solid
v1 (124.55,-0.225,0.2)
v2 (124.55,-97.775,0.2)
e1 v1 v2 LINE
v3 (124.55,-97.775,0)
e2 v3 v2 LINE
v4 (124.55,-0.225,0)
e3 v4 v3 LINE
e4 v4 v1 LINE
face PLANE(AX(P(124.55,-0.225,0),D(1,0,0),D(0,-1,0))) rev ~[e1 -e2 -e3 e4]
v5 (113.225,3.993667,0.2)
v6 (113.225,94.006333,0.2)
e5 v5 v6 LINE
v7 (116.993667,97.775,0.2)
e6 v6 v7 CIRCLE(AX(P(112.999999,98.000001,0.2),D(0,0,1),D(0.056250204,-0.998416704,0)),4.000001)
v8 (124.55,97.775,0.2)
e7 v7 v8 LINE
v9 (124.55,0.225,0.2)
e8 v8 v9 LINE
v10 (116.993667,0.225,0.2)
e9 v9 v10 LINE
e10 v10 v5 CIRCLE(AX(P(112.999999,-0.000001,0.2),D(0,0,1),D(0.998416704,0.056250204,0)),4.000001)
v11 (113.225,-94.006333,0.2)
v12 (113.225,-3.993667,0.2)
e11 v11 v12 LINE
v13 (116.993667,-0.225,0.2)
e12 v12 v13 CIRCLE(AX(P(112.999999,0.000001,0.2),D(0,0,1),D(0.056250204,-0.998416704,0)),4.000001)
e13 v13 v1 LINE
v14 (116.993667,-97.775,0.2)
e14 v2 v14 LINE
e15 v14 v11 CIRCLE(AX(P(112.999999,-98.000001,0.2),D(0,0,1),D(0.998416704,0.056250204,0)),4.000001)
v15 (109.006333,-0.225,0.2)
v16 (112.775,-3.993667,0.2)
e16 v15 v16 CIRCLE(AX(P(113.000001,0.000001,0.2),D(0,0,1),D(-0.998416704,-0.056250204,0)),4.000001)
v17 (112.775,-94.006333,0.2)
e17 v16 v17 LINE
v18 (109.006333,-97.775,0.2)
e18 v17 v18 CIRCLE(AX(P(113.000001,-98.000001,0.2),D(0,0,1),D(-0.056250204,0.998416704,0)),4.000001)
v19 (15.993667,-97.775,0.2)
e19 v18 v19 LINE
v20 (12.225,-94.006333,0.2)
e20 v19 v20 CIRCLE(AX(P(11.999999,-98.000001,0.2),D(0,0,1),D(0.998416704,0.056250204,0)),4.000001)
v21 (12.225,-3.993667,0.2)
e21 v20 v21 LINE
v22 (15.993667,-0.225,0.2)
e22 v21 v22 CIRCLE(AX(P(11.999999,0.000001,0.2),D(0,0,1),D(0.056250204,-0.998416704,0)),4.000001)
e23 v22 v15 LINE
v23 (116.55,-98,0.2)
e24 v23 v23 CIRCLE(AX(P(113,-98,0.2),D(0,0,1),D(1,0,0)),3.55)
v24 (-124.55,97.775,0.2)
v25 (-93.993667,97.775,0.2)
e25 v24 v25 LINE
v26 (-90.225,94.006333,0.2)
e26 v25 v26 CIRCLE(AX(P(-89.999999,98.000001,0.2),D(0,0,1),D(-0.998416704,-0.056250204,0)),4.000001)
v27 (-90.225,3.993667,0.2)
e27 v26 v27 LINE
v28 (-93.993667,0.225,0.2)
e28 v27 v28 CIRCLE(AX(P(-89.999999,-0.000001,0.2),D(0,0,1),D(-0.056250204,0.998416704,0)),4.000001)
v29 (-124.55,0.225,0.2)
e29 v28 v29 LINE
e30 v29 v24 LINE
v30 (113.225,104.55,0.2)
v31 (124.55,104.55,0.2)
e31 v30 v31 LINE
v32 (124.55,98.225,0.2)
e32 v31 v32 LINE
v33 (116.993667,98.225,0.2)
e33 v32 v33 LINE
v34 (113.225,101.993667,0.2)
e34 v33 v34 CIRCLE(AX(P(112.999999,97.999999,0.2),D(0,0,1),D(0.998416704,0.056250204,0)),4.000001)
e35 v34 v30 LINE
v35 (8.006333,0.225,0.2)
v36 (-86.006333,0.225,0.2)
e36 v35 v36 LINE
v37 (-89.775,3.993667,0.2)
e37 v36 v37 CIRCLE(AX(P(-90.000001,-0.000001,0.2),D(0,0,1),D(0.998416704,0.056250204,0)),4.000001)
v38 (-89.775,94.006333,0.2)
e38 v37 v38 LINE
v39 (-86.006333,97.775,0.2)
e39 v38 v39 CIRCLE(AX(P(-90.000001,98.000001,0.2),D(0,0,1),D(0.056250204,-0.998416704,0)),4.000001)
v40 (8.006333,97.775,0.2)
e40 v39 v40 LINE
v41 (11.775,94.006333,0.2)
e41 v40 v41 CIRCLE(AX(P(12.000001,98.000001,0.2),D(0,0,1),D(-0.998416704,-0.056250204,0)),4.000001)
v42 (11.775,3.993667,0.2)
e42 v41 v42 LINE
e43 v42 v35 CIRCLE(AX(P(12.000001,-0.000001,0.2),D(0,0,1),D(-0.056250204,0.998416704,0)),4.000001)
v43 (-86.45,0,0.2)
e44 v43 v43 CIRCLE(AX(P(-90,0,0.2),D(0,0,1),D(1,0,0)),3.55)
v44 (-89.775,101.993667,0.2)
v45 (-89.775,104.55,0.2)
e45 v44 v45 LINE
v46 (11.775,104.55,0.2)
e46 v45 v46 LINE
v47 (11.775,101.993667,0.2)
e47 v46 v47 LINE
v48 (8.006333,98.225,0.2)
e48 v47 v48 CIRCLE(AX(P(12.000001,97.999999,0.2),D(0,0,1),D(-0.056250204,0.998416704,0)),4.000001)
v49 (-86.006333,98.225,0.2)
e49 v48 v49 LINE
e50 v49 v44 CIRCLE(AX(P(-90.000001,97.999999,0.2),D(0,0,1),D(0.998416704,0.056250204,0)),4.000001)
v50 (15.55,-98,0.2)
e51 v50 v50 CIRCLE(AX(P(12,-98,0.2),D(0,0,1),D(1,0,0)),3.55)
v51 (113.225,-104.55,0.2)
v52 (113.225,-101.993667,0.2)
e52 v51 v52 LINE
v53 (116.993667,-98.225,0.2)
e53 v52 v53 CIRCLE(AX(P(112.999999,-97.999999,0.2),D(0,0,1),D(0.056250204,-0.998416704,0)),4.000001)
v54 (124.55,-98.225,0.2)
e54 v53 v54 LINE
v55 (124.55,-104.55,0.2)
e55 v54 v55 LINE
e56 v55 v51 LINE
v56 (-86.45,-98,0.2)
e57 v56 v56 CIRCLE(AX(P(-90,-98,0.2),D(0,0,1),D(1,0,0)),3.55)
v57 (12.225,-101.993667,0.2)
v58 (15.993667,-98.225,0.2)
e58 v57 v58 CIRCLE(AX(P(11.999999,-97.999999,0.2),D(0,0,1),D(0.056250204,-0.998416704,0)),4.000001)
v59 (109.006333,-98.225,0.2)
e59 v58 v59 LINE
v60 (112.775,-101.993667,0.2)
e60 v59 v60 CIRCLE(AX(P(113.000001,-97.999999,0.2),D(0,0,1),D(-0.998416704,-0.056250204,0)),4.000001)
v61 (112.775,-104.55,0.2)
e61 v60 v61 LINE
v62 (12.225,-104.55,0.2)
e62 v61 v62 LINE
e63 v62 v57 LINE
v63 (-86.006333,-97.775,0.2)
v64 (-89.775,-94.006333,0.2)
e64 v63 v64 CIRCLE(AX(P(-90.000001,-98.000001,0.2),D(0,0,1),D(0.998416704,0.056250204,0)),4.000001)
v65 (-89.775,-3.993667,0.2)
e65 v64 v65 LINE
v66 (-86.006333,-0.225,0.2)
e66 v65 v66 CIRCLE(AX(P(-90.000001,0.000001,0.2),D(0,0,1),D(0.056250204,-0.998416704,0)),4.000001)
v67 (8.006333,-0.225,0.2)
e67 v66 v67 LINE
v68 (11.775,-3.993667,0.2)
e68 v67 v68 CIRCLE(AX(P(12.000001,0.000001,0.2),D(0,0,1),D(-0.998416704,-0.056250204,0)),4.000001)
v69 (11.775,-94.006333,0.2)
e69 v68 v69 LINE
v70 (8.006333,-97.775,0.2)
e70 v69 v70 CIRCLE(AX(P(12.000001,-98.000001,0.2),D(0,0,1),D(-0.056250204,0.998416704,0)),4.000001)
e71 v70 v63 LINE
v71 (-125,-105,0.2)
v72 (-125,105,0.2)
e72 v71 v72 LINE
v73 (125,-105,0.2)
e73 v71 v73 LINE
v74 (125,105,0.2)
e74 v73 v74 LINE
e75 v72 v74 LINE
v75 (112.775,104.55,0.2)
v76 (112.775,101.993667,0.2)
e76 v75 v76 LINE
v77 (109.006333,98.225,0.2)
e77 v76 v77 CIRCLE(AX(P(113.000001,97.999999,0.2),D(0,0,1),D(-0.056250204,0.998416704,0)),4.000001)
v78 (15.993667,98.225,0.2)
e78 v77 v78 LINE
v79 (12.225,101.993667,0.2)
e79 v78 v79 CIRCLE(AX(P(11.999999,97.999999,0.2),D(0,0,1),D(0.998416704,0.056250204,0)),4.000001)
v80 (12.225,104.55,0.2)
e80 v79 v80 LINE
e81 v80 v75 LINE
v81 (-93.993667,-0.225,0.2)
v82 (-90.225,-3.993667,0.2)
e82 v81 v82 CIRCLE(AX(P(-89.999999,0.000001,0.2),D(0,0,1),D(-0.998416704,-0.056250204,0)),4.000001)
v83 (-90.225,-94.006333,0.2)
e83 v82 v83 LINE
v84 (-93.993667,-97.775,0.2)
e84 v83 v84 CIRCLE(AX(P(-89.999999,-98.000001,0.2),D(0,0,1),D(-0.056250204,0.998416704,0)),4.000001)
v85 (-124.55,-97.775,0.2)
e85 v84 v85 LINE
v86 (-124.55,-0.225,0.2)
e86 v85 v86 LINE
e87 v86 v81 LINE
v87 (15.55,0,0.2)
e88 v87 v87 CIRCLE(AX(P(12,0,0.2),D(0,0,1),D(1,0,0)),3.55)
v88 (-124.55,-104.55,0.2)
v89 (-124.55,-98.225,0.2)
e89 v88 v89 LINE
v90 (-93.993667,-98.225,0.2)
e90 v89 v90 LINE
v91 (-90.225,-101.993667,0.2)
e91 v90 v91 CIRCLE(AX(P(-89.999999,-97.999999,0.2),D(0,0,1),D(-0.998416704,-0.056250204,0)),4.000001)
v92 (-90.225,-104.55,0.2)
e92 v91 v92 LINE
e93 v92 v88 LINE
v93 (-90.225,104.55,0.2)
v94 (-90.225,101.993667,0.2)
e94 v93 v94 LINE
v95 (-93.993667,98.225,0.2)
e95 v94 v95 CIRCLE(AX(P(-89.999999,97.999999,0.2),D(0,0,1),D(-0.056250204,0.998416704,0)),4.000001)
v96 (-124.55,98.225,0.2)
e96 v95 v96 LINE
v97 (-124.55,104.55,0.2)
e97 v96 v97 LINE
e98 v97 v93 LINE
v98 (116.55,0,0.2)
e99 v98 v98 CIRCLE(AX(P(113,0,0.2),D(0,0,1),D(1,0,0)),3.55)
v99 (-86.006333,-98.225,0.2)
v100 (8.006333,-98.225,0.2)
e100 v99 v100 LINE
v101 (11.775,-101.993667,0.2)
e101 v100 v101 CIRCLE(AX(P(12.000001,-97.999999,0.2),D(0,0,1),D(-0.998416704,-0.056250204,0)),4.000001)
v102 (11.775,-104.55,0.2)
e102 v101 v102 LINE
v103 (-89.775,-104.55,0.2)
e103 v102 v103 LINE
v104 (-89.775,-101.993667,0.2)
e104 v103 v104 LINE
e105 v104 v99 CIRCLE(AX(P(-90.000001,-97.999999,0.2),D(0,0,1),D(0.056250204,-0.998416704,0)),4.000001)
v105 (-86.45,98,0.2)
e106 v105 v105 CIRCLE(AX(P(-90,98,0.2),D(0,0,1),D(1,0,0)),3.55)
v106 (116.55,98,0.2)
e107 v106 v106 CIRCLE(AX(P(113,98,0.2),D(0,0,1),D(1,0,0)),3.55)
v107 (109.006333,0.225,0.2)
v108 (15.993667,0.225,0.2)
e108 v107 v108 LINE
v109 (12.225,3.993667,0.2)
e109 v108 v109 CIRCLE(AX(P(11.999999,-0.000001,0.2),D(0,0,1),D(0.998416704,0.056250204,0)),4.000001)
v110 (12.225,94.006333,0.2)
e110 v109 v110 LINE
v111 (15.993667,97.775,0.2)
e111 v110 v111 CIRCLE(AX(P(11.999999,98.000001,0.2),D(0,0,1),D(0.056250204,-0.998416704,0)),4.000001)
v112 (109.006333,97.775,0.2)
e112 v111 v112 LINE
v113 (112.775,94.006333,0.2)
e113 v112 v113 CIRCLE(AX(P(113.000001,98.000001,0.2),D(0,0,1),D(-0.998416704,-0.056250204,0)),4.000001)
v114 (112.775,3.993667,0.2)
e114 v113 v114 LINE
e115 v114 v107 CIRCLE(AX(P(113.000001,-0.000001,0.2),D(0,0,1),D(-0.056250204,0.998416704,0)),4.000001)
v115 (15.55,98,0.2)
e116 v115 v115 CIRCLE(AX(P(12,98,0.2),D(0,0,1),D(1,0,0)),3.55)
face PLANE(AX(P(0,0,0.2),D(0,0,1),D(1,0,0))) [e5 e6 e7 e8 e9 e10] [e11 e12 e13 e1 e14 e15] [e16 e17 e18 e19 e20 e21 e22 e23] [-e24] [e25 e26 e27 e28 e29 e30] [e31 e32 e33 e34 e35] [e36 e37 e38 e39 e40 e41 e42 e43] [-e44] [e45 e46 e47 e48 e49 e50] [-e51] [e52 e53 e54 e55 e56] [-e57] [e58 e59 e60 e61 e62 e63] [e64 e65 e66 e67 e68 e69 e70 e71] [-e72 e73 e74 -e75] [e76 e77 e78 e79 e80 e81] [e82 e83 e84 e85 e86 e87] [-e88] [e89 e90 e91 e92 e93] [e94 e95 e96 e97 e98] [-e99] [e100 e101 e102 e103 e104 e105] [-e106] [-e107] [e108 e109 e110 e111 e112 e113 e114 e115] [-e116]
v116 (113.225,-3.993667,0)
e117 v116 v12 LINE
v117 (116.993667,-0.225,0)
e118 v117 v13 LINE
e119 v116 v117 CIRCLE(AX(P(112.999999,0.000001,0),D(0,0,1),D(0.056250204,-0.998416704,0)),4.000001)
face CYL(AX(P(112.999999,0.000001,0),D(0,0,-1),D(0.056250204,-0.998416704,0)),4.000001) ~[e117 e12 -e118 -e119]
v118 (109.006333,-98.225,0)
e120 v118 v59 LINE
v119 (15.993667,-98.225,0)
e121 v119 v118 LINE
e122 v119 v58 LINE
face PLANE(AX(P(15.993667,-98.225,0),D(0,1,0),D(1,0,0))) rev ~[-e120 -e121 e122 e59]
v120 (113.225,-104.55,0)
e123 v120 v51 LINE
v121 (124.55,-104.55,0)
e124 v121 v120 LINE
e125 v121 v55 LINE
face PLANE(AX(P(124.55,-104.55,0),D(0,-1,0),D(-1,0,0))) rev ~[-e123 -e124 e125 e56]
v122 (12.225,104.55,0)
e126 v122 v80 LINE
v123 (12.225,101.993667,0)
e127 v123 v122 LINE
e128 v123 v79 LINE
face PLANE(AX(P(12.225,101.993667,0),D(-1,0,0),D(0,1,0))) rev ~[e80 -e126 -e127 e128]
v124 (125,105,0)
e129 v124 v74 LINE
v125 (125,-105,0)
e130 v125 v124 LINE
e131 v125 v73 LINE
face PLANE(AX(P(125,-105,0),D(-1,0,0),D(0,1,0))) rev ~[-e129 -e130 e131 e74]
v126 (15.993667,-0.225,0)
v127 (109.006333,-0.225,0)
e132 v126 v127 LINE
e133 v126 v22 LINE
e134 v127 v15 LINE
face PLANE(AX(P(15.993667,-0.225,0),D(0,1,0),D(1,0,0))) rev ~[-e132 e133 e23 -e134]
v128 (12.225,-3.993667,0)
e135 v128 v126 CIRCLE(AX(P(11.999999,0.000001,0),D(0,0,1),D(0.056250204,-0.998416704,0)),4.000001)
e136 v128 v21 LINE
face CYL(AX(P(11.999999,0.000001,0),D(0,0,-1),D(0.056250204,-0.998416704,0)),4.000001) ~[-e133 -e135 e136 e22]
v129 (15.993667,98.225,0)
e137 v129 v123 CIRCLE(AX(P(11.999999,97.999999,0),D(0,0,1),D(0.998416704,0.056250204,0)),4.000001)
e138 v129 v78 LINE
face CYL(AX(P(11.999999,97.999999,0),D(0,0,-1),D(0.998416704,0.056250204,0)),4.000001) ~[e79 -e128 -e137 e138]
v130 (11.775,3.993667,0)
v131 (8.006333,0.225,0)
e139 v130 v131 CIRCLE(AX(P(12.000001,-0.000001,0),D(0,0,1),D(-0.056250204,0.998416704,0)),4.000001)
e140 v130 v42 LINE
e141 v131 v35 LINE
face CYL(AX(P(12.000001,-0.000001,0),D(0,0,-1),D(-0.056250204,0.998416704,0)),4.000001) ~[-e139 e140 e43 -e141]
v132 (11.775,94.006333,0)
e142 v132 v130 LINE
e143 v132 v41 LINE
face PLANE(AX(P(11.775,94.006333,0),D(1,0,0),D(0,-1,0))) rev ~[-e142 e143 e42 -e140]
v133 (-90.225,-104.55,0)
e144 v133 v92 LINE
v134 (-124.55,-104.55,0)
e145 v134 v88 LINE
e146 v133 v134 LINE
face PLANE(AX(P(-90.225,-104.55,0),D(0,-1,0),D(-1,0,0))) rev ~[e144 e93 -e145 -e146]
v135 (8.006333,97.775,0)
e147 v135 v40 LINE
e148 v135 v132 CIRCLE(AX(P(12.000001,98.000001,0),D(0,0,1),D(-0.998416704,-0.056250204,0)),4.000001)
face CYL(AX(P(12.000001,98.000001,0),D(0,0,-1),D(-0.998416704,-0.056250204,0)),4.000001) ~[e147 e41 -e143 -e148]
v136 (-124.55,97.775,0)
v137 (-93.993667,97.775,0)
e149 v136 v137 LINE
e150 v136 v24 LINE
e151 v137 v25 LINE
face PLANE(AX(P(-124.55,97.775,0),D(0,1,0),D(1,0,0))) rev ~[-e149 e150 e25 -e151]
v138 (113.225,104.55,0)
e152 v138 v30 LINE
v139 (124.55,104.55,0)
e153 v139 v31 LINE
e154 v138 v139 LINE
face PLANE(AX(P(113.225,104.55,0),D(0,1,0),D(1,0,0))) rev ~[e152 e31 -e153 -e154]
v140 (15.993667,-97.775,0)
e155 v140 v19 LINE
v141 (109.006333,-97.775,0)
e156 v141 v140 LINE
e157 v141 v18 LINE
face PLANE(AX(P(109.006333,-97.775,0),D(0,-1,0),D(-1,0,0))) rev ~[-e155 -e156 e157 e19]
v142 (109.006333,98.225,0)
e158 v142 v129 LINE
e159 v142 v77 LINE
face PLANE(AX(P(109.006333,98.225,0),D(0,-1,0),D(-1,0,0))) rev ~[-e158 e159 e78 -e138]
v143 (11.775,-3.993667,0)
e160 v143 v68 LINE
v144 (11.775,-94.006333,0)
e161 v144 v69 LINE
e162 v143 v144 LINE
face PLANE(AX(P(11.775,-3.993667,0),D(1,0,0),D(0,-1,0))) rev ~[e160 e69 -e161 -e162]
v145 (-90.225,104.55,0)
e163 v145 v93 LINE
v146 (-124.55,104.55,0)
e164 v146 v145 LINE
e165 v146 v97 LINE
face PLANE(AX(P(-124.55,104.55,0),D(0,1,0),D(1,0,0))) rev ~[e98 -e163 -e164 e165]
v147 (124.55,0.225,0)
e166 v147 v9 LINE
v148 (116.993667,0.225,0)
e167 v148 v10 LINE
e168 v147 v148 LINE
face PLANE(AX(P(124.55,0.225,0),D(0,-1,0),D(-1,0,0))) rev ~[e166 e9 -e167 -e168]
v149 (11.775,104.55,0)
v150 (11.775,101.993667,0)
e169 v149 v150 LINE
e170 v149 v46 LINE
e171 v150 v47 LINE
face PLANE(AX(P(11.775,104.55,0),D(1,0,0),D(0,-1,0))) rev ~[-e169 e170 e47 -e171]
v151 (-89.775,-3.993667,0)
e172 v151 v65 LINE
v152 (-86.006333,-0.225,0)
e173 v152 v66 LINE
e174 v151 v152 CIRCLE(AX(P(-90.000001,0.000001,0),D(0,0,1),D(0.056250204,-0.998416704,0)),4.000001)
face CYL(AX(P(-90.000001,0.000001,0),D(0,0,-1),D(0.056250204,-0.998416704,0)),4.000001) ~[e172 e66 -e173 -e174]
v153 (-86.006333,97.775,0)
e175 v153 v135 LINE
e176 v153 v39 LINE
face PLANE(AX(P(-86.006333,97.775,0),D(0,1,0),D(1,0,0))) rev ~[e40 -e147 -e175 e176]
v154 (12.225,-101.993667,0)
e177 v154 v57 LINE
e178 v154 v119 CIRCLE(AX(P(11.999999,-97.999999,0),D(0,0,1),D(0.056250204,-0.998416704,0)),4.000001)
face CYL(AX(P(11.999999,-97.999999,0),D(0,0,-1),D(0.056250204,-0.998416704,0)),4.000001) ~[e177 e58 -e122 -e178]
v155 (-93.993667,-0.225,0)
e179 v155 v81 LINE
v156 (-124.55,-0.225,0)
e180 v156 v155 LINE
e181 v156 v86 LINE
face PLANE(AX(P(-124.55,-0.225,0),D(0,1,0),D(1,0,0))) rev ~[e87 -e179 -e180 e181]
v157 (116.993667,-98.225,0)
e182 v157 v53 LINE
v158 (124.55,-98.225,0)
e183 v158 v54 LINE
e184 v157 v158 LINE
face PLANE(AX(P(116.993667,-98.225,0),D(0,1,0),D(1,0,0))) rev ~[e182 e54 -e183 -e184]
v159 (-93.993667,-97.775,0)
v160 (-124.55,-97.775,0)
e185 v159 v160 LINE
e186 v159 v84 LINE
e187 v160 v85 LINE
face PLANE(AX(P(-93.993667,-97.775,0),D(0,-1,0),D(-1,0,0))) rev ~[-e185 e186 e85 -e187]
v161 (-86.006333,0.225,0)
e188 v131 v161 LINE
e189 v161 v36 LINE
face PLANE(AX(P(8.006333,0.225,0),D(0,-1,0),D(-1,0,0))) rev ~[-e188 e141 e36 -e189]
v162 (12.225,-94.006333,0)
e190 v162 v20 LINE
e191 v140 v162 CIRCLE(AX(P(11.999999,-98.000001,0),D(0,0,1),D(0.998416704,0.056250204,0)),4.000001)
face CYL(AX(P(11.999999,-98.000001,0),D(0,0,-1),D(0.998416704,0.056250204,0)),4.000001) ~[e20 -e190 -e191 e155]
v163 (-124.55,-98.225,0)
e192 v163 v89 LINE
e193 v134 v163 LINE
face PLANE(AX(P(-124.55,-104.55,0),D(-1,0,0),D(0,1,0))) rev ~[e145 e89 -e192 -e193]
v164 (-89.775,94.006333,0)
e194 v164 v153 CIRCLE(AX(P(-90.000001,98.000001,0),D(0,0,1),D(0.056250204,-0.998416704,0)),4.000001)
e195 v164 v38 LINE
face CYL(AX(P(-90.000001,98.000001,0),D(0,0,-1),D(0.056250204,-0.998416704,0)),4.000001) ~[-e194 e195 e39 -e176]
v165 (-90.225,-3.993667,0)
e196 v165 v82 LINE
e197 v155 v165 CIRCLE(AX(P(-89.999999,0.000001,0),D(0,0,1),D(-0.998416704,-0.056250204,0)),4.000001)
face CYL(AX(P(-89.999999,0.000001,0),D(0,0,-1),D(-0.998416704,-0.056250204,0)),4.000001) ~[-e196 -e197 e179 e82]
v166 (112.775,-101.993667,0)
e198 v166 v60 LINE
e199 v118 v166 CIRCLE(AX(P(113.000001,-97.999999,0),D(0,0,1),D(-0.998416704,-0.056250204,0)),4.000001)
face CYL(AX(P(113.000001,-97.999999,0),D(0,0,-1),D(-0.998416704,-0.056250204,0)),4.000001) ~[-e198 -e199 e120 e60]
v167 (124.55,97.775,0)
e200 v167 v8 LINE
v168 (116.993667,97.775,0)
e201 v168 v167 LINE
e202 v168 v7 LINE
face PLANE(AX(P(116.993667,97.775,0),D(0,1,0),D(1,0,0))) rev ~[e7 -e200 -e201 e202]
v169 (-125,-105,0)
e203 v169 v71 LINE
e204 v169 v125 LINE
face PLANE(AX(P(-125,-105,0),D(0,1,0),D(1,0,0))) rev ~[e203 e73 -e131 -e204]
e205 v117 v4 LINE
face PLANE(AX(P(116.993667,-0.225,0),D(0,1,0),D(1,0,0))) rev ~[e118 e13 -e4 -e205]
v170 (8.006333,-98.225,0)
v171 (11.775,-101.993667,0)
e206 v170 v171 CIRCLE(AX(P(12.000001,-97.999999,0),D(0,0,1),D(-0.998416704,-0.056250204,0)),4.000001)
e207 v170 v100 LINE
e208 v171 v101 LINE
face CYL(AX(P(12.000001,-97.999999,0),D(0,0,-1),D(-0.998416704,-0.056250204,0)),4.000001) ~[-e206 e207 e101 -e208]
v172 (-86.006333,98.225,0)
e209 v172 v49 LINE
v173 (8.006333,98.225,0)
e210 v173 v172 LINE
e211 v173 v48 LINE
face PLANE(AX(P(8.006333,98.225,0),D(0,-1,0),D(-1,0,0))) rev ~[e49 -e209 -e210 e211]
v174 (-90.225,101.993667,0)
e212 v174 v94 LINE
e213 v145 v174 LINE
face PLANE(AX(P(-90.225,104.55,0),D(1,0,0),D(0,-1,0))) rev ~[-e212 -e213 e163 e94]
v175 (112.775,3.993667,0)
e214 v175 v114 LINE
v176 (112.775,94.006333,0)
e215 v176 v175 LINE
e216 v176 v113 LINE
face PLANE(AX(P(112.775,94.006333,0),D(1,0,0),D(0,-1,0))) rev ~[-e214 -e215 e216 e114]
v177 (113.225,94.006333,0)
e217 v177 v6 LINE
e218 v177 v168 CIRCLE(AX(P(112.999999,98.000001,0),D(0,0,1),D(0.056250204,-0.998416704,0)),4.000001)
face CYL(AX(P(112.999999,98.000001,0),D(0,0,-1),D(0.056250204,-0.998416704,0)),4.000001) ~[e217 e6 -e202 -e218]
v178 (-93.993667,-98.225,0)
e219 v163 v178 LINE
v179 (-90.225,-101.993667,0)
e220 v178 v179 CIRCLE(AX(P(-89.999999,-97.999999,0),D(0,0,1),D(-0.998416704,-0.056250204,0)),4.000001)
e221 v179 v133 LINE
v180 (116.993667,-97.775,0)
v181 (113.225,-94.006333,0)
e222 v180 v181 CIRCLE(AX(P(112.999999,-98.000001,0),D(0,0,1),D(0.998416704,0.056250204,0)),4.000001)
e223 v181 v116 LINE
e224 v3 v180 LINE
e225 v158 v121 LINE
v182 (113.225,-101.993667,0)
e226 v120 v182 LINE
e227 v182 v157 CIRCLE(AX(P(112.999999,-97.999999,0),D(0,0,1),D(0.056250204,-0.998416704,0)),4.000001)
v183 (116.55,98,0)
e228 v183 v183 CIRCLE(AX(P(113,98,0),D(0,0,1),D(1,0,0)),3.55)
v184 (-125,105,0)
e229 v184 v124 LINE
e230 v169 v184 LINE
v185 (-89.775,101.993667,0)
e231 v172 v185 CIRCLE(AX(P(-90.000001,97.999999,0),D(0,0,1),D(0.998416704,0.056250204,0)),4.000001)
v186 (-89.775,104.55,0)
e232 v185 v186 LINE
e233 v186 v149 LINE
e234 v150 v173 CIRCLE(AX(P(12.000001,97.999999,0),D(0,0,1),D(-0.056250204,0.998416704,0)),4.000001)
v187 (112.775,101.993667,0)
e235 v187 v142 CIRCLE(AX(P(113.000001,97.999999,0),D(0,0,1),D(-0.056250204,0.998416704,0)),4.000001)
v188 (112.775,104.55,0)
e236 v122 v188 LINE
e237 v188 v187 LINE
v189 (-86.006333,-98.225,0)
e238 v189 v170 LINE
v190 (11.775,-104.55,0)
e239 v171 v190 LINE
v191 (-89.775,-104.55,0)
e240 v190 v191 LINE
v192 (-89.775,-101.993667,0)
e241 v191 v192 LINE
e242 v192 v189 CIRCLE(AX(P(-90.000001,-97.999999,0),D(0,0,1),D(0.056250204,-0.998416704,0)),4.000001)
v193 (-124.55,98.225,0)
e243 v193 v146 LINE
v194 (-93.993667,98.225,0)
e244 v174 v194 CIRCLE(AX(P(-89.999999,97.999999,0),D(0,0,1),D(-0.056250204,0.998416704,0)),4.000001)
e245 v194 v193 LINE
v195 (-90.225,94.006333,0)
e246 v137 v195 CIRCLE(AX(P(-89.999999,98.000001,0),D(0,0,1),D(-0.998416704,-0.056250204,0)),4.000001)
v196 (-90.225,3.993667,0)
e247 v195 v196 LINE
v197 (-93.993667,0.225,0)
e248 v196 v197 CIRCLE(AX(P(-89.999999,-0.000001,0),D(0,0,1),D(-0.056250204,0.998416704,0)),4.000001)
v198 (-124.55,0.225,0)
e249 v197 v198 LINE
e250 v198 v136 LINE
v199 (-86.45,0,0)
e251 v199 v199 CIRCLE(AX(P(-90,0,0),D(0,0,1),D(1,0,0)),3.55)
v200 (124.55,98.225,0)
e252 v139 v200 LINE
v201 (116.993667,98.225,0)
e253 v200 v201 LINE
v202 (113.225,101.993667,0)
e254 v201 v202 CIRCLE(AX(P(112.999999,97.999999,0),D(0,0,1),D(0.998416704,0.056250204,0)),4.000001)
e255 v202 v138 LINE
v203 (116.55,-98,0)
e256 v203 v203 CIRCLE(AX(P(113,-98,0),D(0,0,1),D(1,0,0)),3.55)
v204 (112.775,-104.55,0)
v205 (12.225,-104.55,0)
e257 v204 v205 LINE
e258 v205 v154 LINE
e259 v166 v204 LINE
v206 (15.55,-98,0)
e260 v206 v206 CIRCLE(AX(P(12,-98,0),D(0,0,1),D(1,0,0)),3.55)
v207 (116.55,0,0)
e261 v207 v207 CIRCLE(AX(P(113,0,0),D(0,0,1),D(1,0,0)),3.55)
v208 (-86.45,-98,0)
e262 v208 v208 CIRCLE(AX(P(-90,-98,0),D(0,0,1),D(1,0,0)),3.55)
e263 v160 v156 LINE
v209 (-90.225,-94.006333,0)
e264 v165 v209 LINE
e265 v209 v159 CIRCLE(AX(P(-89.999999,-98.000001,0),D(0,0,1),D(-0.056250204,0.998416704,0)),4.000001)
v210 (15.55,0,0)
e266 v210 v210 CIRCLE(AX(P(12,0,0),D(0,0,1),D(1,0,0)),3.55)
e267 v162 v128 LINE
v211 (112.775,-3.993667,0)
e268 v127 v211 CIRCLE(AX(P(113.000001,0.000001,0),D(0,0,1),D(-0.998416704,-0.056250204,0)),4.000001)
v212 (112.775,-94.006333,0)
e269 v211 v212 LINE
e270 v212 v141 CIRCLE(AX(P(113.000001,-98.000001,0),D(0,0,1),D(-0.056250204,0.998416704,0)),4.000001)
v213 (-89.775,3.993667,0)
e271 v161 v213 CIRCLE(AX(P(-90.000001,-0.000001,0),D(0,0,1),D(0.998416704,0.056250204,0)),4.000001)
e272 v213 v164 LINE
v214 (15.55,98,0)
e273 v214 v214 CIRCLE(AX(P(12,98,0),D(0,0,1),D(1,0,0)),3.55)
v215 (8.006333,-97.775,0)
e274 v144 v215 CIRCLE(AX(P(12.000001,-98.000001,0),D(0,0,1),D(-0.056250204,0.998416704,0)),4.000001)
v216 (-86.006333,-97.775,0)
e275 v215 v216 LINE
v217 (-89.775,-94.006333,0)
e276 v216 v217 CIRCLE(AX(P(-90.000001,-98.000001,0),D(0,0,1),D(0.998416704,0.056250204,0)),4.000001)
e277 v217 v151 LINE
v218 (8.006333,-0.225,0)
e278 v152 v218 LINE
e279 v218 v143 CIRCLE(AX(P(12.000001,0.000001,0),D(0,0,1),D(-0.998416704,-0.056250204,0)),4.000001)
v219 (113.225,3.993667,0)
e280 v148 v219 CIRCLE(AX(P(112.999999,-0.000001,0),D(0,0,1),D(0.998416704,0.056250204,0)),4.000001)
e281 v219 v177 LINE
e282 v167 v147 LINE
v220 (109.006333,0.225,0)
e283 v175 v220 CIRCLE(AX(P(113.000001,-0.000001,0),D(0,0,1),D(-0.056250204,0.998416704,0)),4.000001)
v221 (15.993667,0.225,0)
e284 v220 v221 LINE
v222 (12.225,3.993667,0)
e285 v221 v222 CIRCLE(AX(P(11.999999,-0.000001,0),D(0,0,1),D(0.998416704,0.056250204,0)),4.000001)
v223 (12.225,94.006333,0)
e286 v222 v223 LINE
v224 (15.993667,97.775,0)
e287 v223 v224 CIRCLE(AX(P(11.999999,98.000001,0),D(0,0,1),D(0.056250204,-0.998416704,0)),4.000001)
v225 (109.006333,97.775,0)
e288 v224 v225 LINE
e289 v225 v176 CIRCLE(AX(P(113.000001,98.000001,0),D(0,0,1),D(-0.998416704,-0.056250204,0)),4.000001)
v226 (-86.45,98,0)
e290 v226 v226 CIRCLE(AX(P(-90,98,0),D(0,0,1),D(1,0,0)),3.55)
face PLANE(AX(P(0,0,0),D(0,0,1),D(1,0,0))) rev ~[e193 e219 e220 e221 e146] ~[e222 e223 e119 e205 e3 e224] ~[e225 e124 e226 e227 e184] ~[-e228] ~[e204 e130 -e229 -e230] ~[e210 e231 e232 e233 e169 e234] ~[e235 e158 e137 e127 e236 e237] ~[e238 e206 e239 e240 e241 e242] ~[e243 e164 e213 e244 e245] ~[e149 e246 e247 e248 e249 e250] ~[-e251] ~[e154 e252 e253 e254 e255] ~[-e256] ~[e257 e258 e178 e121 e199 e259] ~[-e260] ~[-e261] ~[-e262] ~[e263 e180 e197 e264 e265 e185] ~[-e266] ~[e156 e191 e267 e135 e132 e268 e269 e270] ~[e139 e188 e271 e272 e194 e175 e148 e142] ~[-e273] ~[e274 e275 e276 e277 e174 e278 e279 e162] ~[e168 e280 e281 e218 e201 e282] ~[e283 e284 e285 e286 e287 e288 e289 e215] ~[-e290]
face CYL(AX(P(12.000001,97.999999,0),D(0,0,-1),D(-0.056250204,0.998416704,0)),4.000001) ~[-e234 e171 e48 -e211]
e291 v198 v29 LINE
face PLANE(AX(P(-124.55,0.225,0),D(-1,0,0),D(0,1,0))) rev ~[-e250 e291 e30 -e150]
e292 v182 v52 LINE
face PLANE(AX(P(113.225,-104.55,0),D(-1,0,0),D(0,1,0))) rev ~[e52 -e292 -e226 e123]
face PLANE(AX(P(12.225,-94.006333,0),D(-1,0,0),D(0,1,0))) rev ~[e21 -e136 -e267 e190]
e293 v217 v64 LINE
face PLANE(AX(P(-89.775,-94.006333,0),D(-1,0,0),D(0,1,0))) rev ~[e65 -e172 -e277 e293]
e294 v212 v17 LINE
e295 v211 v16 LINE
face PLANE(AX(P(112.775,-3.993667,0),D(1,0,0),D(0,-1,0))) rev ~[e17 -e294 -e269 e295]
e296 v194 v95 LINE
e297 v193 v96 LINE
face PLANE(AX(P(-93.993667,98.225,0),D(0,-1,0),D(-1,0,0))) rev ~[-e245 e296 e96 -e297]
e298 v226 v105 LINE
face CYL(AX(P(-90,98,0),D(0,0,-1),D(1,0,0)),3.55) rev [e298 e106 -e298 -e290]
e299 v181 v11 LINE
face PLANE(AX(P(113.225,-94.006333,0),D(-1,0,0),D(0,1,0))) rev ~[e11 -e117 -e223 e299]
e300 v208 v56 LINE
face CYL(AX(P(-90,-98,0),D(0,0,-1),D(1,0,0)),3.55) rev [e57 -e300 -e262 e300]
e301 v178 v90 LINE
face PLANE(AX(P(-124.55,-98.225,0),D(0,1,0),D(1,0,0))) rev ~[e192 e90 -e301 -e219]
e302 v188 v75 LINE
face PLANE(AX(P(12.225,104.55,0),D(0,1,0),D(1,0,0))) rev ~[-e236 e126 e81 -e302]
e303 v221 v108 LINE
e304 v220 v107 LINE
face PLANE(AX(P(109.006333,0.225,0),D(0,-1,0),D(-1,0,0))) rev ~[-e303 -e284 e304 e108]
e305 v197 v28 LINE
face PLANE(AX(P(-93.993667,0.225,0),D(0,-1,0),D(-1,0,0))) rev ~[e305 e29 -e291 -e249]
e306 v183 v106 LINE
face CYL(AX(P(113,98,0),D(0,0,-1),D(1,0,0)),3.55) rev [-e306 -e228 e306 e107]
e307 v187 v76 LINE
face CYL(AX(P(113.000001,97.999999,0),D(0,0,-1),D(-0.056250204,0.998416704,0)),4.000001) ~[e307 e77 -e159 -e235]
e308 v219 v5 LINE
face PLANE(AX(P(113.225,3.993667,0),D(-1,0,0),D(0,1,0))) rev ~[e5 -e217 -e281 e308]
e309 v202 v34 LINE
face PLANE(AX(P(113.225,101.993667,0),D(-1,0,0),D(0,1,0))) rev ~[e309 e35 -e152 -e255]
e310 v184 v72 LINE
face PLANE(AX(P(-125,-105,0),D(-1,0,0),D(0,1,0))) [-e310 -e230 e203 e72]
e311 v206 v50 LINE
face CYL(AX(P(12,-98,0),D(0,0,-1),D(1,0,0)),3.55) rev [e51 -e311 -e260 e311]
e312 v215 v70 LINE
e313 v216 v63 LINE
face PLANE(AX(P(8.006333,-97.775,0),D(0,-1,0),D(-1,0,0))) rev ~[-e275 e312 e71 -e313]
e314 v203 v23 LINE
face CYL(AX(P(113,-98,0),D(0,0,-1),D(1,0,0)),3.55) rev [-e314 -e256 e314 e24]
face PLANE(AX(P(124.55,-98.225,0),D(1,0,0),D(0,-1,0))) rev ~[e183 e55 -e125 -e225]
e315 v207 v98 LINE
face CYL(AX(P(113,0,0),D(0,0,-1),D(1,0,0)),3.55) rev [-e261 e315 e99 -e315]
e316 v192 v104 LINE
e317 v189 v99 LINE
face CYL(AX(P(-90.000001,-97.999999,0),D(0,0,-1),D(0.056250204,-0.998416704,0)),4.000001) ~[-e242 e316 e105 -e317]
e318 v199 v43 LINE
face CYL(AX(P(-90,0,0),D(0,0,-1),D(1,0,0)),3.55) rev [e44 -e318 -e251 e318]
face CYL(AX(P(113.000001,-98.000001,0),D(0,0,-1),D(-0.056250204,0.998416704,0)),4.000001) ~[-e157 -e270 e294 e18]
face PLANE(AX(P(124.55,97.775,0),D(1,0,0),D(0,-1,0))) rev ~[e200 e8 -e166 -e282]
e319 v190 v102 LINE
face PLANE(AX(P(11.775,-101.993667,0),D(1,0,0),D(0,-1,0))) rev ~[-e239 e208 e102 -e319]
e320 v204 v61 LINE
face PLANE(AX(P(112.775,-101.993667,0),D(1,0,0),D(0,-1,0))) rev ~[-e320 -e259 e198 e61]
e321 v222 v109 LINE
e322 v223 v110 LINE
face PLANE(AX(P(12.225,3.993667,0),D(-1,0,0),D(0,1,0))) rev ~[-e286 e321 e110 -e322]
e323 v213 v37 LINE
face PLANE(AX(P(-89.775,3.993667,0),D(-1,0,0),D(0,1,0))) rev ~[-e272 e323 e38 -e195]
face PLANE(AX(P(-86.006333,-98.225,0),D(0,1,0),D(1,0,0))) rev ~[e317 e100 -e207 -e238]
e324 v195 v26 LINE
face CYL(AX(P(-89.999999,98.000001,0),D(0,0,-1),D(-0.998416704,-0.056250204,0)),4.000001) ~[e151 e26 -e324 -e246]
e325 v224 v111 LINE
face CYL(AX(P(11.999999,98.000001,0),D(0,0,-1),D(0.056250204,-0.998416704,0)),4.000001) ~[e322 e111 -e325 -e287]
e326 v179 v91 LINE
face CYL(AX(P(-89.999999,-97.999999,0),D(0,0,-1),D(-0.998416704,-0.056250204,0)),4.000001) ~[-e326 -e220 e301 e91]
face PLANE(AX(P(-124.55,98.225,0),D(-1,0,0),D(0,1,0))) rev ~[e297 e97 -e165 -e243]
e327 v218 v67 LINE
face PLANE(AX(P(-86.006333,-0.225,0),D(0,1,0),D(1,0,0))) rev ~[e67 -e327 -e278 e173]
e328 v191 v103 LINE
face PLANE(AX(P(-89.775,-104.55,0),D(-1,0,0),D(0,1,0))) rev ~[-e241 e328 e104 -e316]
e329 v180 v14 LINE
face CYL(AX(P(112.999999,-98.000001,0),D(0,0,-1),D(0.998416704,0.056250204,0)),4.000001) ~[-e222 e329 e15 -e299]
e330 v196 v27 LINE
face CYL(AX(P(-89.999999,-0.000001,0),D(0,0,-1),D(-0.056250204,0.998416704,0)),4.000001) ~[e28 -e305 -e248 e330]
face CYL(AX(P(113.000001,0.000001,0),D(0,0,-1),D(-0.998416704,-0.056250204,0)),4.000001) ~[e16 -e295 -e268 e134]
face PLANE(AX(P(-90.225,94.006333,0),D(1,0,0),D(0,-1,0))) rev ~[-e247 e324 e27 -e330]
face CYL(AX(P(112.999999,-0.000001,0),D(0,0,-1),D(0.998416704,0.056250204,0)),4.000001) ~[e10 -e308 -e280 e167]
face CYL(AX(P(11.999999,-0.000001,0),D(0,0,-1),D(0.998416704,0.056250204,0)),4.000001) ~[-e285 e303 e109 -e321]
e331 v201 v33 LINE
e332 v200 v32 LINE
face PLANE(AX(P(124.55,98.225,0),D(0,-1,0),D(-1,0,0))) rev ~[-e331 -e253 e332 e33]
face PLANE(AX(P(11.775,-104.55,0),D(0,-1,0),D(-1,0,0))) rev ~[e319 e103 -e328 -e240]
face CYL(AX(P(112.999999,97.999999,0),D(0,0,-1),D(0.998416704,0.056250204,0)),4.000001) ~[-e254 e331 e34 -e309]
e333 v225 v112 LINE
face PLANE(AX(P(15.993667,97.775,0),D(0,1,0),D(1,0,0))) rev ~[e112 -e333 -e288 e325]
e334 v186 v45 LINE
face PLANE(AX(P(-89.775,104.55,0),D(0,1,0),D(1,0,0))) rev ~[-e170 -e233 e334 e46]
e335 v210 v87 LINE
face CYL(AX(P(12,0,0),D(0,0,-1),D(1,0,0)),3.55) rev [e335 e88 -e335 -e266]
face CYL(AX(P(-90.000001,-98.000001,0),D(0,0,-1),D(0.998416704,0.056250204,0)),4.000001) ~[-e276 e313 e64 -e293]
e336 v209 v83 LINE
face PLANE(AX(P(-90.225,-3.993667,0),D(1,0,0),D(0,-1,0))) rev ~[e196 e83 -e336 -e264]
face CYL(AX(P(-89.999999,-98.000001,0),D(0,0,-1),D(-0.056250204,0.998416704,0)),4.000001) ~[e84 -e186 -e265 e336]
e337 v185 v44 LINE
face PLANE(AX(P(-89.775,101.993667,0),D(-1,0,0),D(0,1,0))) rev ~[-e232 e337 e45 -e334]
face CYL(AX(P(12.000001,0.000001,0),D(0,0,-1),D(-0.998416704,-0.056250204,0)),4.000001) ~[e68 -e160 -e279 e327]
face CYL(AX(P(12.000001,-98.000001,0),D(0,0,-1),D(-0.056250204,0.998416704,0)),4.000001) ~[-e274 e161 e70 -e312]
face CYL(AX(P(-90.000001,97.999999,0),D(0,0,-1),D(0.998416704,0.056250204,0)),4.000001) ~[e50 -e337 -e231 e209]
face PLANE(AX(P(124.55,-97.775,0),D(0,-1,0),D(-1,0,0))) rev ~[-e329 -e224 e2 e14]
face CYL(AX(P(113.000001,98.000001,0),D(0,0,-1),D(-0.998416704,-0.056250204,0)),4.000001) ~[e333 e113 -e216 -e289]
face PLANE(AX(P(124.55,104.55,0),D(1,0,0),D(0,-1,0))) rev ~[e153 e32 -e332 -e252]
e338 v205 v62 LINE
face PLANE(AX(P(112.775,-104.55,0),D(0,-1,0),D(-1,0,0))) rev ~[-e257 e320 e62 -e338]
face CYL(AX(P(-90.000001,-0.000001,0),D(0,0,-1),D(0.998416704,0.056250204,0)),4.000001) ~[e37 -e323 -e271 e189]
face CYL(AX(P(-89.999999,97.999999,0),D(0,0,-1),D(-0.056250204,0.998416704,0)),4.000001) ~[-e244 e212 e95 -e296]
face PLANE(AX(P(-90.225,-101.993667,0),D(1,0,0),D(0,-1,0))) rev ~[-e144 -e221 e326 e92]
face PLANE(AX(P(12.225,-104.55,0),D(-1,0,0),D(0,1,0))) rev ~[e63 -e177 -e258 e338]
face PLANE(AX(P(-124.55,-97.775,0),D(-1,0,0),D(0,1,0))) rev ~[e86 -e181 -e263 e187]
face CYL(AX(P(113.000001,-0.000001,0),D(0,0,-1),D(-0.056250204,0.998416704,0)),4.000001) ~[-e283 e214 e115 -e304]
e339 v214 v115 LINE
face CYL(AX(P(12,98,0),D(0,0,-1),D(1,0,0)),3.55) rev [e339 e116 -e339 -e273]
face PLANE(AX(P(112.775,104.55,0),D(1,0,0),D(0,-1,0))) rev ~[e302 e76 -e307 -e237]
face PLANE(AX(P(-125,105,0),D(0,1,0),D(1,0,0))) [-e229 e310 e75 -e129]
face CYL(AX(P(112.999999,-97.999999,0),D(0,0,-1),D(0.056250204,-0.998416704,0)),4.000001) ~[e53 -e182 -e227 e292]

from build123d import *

# Parameters (mm, degrees)
F0_W     = 250
F0_H     = 210
F0_R     = 3.55
F1_DEPTH = 0.2


with BuildPart() as f1:
    # F0 (on Top) → F1 (new body)
    with BuildSketch(Plane.XY):
        Rectangle(F0_W, F0_H)
        with BuildLine():
            Line((-90.225, -104.55), (-124.55, -104.55))
            Line((-124.55, -104.55), (-124.55, -98.225))
            Line((-124.55, -98.225), (-93.993667, -98.225))
            ThreePointArc((-93.993667, -98.225), (-92.828427, -100.828427), (-90.225, -101.993667))
            Line((-90.225, -101.993667), (-90.225, -104.55))
        make_face(mode=Mode.SUBTRACT)
        with Locations((-90, -98)):
            Circle(F0_R, mode=Mode.SUBTRACT)
        with BuildLine():
            Line((-86.006333, -98.225), (8.006333, -98.225))
            ThreePointArc((8.006333, -98.225), (9.171573, -100.828427), (11.775, -101.993667))
            Line((11.775, -101.993667), (11.775, -104.55))
            Line((11.775, -104.55), (-89.775, -104.55))
            Line((-89.775, -104.55), (-89.775, -101.993667))
            ThreePointArc((-89.775, -101.993667), (-87.171573, -100.828427), (-86.006333, -98.225))
        make_face(mode=Mode.SUBTRACT)
        with BuildLine():
            Line((-124.55, -0.225), (-93.993667, -0.225))
            ThreePointArc((-93.993667, -0.225), (-92.828427, -2.828427), (-90.225, -3.993667))
            Line((-90.225, -3.993667), (-90.225, -94.006333))
            ThreePointArc((-90.225, -94.006333), (-92.828427, -95.171573), (-93.993667, -97.775))
            Line((-93.993667, -97.775), (-124.55, -97.775))
            Line((-124.55, -97.775), (-124.55, -0.225))
        make_face(mode=Mode.SUBTRACT)
        with BuildLine():
            Line((-86.006333, -0.225), (8.006333, -0.225))
            ThreePointArc((8.006333, -0.225), (9.171573, -2.828427), (11.775, -3.993667))
            Line((11.775, -3.993667), (11.775, -94.006333))
            ThreePointArc((11.775, -94.006333), (9.171573, -95.171573), (8.006333, -97.775))
            Line((8.006333, -97.775), (-86.006333, -97.775))
            ThreePointArc((-86.006333, -97.775), (-87.171573, -95.171573), (-89.775, -94.006333))
            Line((-89.775, -94.006333), (-89.775, -3.993667))
            ThreePointArc((-89.775, -3.993667), (-87.171573, -2.828427), (-86.006333, -0.225))
        make_face(mode=Mode.SUBTRACT)
        with Locations((12, -98)):
            Circle(F0_R, mode=Mode.SUBTRACT)
        with BuildLine():
            Line((12.225, -104.55), (12.225, -101.993667))
            ThreePointArc((12.225, -101.993667), (14.828427, -100.828427), (15.993667, -98.225))
            Line((15.993667, -98.225), (109.006333, -98.225))
            ThreePointArc((109.006333, -98.225), (110.171573, -100.828427), (112.775, -101.993667))
            Line((112.775, -101.993667), (112.775, -104.55))
            Line((112.775, -104.55), (12.225, -104.55))
        make_face(mode=Mode.SUBTRACT)
        with BuildLine():
            Line((124.55, -98.225), (124.55, -104.55))
            Line((124.55, -104.55), (113.225, -104.55))
            Line((113.225, -104.55), (113.225, -101.993667))
            ThreePointArc((113.225, -101.993667), (115.828427, -100.828427), (116.993667, -98.225))
            Line((116.993667, -98.225), (124.55, -98.225))
        make_face(mode=Mode.SUBTRACT)
        with Locations((113, -98)):
            Circle(F0_R, mode=Mode.SUBTRACT)
        with BuildLine():
            Line((15.993667, -0.225), (109.006333, -0.225))
            ThreePointArc((109.006333, -0.225), (110.171573, -2.828427), (112.775, -3.993667))
            Line((112.775, -3.993667), (112.775, -94.006333))
            ThreePointArc((112.775, -94.006333), (110.171573, -95.171573), (109.006333, -97.775))
            Line((109.006333, -97.775), (15.993667, -97.775))
            ThreePointArc((15.993667, -97.775), (14.828427, -95.171573), (12.225, -94.006333))
            Line((12.225, -94.006333), (12.225, -3.993667))
            ThreePointArc((12.225, -3.993667), (14.828427, -2.828427), (15.993667, -0.225))
        make_face(mode=Mode.SUBTRACT)
        with BuildLine():
            Line((116.993667, -0.225), (124.55, -0.225))
            Line((124.55, -0.225), (124.55, -97.775))
            Line((124.55, -97.775), (116.993667, -97.775))
            ThreePointArc((116.993667, -97.775), (115.828427, -95.171573), (113.225, -94.006333))
            Line((113.225, -94.006333), (113.225, -3.993667))
            ThreePointArc((113.225, -3.993667), (115.828427, -2.828427), (116.993667, -0.225))
        make_face(mode=Mode.SUBTRACT)
        with Locations((-90, 0)):
            Circle(F0_R, mode=Mode.SUBTRACT)
        with BuildLine():
            Line((-124.55, 97.775), (-93.993667, 97.775))
            ThreePointArc((-93.993667, 97.775), (-92.828427, 95.171573), (-90.225, 94.006333))
            Line((-90.225, 94.006333), (-90.225, 3.993667))
            ThreePointArc((-90.225, 3.993667), (-92.828427, 2.828427), (-93.993667, 0.225))
            Line((-93.993667, 0.225), (-124.55, 0.225))
            Line((-124.55, 0.225), (-124.55, 97.775))
        make_face(mode=Mode.SUBTRACT)
        with BuildLine():
            Line((-86.006333, 97.775), (8.006333, 97.775))
            ThreePointArc((8.006333, 97.775), (9.171573, 95.171573), (11.775, 94.006333))
            Line((11.775, 94.006333), (11.775, 3.993667))
            ThreePointArc((11.775, 3.993667), (9.171573, 2.828427), (8.006333, 0.225))
            Line((8.006333, 0.225), (-86.006333, 0.225))
            ThreePointArc((-86.006333, 0.225), (-87.171573, 2.828427), (-89.775, 3.993667))
            Line((-89.775, 3.993667), (-89.775, 94.006333))
            ThreePointArc((-89.775, 94.006333), (-87.171573, 95.171573), (-86.006333, 97.775))
        make_face(mode=Mode.SUBTRACT)
        with BuildLine():
            Line((-90.225, 104.55), (-90.225, 101.993667))
            ThreePointArc((-90.225, 101.993667), (-92.828427, 100.828427), (-93.993667, 98.225))
            Line((-93.993667, 98.225), (-124.55, 98.225))
            Line((-124.55, 98.225), (-124.55, 104.55))
            Line((-124.55, 104.55), (-90.225, 104.55))
        make_face(mode=Mode.SUBTRACT)
        with Locations((-90, 98)):
            Circle(F0_R, mode=Mode.SUBTRACT)
        with BuildLine():
            Line((-89.775, 101.993667), (-89.775, 104.55))
            Line((-89.775, 104.55), (11.775, 104.55))
            Line((11.775, 104.55), (11.775, 101.993667))
            ThreePointArc((11.775, 101.993667), (9.171573, 100.828427), (8.006333, 98.225))
            Line((8.006333, 98.225), (-86.006333, 98.225))
            ThreePointArc((-86.006333, 98.225), (-87.171573, 100.828427), (-89.775, 101.993667))
        make_face(mode=Mode.SUBTRACT)
        with Locations((12, 0)):
            Circle(F0_R, mode=Mode.SUBTRACT)
        with Locations((113, 0)):
            Circle(F0_R, mode=Mode.SUBTRACT)
        with BuildLine():
            Line((15.993667, 97.775), (109.006333, 97.775))
            ThreePointArc((109.006333, 97.775), (110.171573, 95.171573), (112.775, 94.006333))
            Line((112.775, 94.006333), (112.775, 3.993667))
            ThreePointArc((112.775, 3.993667), (110.171573, 2.828427), (109.006333, 0.225))
            Line((109.006333, 0.225), (15.993667, 0.225))
            ThreePointArc((15.993667, 0.225), (14.828427, 2.828427), (12.225, 3.993667))
            Line((12.225, 3.993667), (12.225, 94.006333))
            ThreePointArc((12.225, 94.006333), (14.828427, 95.171573), (15.993667, 97.775))
        make_face(mode=Mode.SUBTRACT)
        with BuildLine():
            Line((116.993667, 97.775), (124.55, 97.775))
            Line((124.55, 97.775), (124.55, 0.225))
            Line((124.55, 0.225), (116.993667, 0.225))
            ThreePointArc((116.993667, 0.225), (115.828427, 2.828427), (113.225, 3.993667))
            Line((113.225, 3.993667), (113.225, 94.006333))
            ThreePointArc((113.225, 94.006333), (115.828427, 95.171573), (116.993667, 97.775))
        make_face(mode=Mode.SUBTRACT)
        with Locations((12, 98)):
            Circle(F0_R, mode=Mode.SUBTRACT)
        with BuildLine():
            Line((12.225, 101.993667), (12.225, 104.55))
            Line((12.225, 104.55), (112.775, 104.55))
            Line((112.775, 104.55), (112.775, 101.993667))
            ThreePointArc((112.775, 101.993667), (110.171573, 100.828427), (109.006333, 98.225))
            Line((109.006333, 98.225), (15.993667, 98.225))
            ThreePointArc((15.993667, 98.225), (14.828427, 100.828427), (12.225, 101.993667))
        make_face(mode=Mode.SUBTRACT)
        with Locations((113, 98)):
            Circle(F0_R, mode=Mode.SUBTRACT)
        with BuildLine():
            Line((113.225, 104.55), (124.55, 104.55))
            Line((124.55, 104.55), (124.55, 98.225))
            Line((124.55, 98.225), (116.993667, 98.225))
            ThreePointArc((116.993667, 98.225), (115.828427, 100.828427), (113.225, 101.993667))
            Line((113.225, 101.993667), (113.225, 104.55))
        make_face(mode=Mode.SUBTRACT)
    extrude(amount=F1_DEPTH)


solid = f1.part
